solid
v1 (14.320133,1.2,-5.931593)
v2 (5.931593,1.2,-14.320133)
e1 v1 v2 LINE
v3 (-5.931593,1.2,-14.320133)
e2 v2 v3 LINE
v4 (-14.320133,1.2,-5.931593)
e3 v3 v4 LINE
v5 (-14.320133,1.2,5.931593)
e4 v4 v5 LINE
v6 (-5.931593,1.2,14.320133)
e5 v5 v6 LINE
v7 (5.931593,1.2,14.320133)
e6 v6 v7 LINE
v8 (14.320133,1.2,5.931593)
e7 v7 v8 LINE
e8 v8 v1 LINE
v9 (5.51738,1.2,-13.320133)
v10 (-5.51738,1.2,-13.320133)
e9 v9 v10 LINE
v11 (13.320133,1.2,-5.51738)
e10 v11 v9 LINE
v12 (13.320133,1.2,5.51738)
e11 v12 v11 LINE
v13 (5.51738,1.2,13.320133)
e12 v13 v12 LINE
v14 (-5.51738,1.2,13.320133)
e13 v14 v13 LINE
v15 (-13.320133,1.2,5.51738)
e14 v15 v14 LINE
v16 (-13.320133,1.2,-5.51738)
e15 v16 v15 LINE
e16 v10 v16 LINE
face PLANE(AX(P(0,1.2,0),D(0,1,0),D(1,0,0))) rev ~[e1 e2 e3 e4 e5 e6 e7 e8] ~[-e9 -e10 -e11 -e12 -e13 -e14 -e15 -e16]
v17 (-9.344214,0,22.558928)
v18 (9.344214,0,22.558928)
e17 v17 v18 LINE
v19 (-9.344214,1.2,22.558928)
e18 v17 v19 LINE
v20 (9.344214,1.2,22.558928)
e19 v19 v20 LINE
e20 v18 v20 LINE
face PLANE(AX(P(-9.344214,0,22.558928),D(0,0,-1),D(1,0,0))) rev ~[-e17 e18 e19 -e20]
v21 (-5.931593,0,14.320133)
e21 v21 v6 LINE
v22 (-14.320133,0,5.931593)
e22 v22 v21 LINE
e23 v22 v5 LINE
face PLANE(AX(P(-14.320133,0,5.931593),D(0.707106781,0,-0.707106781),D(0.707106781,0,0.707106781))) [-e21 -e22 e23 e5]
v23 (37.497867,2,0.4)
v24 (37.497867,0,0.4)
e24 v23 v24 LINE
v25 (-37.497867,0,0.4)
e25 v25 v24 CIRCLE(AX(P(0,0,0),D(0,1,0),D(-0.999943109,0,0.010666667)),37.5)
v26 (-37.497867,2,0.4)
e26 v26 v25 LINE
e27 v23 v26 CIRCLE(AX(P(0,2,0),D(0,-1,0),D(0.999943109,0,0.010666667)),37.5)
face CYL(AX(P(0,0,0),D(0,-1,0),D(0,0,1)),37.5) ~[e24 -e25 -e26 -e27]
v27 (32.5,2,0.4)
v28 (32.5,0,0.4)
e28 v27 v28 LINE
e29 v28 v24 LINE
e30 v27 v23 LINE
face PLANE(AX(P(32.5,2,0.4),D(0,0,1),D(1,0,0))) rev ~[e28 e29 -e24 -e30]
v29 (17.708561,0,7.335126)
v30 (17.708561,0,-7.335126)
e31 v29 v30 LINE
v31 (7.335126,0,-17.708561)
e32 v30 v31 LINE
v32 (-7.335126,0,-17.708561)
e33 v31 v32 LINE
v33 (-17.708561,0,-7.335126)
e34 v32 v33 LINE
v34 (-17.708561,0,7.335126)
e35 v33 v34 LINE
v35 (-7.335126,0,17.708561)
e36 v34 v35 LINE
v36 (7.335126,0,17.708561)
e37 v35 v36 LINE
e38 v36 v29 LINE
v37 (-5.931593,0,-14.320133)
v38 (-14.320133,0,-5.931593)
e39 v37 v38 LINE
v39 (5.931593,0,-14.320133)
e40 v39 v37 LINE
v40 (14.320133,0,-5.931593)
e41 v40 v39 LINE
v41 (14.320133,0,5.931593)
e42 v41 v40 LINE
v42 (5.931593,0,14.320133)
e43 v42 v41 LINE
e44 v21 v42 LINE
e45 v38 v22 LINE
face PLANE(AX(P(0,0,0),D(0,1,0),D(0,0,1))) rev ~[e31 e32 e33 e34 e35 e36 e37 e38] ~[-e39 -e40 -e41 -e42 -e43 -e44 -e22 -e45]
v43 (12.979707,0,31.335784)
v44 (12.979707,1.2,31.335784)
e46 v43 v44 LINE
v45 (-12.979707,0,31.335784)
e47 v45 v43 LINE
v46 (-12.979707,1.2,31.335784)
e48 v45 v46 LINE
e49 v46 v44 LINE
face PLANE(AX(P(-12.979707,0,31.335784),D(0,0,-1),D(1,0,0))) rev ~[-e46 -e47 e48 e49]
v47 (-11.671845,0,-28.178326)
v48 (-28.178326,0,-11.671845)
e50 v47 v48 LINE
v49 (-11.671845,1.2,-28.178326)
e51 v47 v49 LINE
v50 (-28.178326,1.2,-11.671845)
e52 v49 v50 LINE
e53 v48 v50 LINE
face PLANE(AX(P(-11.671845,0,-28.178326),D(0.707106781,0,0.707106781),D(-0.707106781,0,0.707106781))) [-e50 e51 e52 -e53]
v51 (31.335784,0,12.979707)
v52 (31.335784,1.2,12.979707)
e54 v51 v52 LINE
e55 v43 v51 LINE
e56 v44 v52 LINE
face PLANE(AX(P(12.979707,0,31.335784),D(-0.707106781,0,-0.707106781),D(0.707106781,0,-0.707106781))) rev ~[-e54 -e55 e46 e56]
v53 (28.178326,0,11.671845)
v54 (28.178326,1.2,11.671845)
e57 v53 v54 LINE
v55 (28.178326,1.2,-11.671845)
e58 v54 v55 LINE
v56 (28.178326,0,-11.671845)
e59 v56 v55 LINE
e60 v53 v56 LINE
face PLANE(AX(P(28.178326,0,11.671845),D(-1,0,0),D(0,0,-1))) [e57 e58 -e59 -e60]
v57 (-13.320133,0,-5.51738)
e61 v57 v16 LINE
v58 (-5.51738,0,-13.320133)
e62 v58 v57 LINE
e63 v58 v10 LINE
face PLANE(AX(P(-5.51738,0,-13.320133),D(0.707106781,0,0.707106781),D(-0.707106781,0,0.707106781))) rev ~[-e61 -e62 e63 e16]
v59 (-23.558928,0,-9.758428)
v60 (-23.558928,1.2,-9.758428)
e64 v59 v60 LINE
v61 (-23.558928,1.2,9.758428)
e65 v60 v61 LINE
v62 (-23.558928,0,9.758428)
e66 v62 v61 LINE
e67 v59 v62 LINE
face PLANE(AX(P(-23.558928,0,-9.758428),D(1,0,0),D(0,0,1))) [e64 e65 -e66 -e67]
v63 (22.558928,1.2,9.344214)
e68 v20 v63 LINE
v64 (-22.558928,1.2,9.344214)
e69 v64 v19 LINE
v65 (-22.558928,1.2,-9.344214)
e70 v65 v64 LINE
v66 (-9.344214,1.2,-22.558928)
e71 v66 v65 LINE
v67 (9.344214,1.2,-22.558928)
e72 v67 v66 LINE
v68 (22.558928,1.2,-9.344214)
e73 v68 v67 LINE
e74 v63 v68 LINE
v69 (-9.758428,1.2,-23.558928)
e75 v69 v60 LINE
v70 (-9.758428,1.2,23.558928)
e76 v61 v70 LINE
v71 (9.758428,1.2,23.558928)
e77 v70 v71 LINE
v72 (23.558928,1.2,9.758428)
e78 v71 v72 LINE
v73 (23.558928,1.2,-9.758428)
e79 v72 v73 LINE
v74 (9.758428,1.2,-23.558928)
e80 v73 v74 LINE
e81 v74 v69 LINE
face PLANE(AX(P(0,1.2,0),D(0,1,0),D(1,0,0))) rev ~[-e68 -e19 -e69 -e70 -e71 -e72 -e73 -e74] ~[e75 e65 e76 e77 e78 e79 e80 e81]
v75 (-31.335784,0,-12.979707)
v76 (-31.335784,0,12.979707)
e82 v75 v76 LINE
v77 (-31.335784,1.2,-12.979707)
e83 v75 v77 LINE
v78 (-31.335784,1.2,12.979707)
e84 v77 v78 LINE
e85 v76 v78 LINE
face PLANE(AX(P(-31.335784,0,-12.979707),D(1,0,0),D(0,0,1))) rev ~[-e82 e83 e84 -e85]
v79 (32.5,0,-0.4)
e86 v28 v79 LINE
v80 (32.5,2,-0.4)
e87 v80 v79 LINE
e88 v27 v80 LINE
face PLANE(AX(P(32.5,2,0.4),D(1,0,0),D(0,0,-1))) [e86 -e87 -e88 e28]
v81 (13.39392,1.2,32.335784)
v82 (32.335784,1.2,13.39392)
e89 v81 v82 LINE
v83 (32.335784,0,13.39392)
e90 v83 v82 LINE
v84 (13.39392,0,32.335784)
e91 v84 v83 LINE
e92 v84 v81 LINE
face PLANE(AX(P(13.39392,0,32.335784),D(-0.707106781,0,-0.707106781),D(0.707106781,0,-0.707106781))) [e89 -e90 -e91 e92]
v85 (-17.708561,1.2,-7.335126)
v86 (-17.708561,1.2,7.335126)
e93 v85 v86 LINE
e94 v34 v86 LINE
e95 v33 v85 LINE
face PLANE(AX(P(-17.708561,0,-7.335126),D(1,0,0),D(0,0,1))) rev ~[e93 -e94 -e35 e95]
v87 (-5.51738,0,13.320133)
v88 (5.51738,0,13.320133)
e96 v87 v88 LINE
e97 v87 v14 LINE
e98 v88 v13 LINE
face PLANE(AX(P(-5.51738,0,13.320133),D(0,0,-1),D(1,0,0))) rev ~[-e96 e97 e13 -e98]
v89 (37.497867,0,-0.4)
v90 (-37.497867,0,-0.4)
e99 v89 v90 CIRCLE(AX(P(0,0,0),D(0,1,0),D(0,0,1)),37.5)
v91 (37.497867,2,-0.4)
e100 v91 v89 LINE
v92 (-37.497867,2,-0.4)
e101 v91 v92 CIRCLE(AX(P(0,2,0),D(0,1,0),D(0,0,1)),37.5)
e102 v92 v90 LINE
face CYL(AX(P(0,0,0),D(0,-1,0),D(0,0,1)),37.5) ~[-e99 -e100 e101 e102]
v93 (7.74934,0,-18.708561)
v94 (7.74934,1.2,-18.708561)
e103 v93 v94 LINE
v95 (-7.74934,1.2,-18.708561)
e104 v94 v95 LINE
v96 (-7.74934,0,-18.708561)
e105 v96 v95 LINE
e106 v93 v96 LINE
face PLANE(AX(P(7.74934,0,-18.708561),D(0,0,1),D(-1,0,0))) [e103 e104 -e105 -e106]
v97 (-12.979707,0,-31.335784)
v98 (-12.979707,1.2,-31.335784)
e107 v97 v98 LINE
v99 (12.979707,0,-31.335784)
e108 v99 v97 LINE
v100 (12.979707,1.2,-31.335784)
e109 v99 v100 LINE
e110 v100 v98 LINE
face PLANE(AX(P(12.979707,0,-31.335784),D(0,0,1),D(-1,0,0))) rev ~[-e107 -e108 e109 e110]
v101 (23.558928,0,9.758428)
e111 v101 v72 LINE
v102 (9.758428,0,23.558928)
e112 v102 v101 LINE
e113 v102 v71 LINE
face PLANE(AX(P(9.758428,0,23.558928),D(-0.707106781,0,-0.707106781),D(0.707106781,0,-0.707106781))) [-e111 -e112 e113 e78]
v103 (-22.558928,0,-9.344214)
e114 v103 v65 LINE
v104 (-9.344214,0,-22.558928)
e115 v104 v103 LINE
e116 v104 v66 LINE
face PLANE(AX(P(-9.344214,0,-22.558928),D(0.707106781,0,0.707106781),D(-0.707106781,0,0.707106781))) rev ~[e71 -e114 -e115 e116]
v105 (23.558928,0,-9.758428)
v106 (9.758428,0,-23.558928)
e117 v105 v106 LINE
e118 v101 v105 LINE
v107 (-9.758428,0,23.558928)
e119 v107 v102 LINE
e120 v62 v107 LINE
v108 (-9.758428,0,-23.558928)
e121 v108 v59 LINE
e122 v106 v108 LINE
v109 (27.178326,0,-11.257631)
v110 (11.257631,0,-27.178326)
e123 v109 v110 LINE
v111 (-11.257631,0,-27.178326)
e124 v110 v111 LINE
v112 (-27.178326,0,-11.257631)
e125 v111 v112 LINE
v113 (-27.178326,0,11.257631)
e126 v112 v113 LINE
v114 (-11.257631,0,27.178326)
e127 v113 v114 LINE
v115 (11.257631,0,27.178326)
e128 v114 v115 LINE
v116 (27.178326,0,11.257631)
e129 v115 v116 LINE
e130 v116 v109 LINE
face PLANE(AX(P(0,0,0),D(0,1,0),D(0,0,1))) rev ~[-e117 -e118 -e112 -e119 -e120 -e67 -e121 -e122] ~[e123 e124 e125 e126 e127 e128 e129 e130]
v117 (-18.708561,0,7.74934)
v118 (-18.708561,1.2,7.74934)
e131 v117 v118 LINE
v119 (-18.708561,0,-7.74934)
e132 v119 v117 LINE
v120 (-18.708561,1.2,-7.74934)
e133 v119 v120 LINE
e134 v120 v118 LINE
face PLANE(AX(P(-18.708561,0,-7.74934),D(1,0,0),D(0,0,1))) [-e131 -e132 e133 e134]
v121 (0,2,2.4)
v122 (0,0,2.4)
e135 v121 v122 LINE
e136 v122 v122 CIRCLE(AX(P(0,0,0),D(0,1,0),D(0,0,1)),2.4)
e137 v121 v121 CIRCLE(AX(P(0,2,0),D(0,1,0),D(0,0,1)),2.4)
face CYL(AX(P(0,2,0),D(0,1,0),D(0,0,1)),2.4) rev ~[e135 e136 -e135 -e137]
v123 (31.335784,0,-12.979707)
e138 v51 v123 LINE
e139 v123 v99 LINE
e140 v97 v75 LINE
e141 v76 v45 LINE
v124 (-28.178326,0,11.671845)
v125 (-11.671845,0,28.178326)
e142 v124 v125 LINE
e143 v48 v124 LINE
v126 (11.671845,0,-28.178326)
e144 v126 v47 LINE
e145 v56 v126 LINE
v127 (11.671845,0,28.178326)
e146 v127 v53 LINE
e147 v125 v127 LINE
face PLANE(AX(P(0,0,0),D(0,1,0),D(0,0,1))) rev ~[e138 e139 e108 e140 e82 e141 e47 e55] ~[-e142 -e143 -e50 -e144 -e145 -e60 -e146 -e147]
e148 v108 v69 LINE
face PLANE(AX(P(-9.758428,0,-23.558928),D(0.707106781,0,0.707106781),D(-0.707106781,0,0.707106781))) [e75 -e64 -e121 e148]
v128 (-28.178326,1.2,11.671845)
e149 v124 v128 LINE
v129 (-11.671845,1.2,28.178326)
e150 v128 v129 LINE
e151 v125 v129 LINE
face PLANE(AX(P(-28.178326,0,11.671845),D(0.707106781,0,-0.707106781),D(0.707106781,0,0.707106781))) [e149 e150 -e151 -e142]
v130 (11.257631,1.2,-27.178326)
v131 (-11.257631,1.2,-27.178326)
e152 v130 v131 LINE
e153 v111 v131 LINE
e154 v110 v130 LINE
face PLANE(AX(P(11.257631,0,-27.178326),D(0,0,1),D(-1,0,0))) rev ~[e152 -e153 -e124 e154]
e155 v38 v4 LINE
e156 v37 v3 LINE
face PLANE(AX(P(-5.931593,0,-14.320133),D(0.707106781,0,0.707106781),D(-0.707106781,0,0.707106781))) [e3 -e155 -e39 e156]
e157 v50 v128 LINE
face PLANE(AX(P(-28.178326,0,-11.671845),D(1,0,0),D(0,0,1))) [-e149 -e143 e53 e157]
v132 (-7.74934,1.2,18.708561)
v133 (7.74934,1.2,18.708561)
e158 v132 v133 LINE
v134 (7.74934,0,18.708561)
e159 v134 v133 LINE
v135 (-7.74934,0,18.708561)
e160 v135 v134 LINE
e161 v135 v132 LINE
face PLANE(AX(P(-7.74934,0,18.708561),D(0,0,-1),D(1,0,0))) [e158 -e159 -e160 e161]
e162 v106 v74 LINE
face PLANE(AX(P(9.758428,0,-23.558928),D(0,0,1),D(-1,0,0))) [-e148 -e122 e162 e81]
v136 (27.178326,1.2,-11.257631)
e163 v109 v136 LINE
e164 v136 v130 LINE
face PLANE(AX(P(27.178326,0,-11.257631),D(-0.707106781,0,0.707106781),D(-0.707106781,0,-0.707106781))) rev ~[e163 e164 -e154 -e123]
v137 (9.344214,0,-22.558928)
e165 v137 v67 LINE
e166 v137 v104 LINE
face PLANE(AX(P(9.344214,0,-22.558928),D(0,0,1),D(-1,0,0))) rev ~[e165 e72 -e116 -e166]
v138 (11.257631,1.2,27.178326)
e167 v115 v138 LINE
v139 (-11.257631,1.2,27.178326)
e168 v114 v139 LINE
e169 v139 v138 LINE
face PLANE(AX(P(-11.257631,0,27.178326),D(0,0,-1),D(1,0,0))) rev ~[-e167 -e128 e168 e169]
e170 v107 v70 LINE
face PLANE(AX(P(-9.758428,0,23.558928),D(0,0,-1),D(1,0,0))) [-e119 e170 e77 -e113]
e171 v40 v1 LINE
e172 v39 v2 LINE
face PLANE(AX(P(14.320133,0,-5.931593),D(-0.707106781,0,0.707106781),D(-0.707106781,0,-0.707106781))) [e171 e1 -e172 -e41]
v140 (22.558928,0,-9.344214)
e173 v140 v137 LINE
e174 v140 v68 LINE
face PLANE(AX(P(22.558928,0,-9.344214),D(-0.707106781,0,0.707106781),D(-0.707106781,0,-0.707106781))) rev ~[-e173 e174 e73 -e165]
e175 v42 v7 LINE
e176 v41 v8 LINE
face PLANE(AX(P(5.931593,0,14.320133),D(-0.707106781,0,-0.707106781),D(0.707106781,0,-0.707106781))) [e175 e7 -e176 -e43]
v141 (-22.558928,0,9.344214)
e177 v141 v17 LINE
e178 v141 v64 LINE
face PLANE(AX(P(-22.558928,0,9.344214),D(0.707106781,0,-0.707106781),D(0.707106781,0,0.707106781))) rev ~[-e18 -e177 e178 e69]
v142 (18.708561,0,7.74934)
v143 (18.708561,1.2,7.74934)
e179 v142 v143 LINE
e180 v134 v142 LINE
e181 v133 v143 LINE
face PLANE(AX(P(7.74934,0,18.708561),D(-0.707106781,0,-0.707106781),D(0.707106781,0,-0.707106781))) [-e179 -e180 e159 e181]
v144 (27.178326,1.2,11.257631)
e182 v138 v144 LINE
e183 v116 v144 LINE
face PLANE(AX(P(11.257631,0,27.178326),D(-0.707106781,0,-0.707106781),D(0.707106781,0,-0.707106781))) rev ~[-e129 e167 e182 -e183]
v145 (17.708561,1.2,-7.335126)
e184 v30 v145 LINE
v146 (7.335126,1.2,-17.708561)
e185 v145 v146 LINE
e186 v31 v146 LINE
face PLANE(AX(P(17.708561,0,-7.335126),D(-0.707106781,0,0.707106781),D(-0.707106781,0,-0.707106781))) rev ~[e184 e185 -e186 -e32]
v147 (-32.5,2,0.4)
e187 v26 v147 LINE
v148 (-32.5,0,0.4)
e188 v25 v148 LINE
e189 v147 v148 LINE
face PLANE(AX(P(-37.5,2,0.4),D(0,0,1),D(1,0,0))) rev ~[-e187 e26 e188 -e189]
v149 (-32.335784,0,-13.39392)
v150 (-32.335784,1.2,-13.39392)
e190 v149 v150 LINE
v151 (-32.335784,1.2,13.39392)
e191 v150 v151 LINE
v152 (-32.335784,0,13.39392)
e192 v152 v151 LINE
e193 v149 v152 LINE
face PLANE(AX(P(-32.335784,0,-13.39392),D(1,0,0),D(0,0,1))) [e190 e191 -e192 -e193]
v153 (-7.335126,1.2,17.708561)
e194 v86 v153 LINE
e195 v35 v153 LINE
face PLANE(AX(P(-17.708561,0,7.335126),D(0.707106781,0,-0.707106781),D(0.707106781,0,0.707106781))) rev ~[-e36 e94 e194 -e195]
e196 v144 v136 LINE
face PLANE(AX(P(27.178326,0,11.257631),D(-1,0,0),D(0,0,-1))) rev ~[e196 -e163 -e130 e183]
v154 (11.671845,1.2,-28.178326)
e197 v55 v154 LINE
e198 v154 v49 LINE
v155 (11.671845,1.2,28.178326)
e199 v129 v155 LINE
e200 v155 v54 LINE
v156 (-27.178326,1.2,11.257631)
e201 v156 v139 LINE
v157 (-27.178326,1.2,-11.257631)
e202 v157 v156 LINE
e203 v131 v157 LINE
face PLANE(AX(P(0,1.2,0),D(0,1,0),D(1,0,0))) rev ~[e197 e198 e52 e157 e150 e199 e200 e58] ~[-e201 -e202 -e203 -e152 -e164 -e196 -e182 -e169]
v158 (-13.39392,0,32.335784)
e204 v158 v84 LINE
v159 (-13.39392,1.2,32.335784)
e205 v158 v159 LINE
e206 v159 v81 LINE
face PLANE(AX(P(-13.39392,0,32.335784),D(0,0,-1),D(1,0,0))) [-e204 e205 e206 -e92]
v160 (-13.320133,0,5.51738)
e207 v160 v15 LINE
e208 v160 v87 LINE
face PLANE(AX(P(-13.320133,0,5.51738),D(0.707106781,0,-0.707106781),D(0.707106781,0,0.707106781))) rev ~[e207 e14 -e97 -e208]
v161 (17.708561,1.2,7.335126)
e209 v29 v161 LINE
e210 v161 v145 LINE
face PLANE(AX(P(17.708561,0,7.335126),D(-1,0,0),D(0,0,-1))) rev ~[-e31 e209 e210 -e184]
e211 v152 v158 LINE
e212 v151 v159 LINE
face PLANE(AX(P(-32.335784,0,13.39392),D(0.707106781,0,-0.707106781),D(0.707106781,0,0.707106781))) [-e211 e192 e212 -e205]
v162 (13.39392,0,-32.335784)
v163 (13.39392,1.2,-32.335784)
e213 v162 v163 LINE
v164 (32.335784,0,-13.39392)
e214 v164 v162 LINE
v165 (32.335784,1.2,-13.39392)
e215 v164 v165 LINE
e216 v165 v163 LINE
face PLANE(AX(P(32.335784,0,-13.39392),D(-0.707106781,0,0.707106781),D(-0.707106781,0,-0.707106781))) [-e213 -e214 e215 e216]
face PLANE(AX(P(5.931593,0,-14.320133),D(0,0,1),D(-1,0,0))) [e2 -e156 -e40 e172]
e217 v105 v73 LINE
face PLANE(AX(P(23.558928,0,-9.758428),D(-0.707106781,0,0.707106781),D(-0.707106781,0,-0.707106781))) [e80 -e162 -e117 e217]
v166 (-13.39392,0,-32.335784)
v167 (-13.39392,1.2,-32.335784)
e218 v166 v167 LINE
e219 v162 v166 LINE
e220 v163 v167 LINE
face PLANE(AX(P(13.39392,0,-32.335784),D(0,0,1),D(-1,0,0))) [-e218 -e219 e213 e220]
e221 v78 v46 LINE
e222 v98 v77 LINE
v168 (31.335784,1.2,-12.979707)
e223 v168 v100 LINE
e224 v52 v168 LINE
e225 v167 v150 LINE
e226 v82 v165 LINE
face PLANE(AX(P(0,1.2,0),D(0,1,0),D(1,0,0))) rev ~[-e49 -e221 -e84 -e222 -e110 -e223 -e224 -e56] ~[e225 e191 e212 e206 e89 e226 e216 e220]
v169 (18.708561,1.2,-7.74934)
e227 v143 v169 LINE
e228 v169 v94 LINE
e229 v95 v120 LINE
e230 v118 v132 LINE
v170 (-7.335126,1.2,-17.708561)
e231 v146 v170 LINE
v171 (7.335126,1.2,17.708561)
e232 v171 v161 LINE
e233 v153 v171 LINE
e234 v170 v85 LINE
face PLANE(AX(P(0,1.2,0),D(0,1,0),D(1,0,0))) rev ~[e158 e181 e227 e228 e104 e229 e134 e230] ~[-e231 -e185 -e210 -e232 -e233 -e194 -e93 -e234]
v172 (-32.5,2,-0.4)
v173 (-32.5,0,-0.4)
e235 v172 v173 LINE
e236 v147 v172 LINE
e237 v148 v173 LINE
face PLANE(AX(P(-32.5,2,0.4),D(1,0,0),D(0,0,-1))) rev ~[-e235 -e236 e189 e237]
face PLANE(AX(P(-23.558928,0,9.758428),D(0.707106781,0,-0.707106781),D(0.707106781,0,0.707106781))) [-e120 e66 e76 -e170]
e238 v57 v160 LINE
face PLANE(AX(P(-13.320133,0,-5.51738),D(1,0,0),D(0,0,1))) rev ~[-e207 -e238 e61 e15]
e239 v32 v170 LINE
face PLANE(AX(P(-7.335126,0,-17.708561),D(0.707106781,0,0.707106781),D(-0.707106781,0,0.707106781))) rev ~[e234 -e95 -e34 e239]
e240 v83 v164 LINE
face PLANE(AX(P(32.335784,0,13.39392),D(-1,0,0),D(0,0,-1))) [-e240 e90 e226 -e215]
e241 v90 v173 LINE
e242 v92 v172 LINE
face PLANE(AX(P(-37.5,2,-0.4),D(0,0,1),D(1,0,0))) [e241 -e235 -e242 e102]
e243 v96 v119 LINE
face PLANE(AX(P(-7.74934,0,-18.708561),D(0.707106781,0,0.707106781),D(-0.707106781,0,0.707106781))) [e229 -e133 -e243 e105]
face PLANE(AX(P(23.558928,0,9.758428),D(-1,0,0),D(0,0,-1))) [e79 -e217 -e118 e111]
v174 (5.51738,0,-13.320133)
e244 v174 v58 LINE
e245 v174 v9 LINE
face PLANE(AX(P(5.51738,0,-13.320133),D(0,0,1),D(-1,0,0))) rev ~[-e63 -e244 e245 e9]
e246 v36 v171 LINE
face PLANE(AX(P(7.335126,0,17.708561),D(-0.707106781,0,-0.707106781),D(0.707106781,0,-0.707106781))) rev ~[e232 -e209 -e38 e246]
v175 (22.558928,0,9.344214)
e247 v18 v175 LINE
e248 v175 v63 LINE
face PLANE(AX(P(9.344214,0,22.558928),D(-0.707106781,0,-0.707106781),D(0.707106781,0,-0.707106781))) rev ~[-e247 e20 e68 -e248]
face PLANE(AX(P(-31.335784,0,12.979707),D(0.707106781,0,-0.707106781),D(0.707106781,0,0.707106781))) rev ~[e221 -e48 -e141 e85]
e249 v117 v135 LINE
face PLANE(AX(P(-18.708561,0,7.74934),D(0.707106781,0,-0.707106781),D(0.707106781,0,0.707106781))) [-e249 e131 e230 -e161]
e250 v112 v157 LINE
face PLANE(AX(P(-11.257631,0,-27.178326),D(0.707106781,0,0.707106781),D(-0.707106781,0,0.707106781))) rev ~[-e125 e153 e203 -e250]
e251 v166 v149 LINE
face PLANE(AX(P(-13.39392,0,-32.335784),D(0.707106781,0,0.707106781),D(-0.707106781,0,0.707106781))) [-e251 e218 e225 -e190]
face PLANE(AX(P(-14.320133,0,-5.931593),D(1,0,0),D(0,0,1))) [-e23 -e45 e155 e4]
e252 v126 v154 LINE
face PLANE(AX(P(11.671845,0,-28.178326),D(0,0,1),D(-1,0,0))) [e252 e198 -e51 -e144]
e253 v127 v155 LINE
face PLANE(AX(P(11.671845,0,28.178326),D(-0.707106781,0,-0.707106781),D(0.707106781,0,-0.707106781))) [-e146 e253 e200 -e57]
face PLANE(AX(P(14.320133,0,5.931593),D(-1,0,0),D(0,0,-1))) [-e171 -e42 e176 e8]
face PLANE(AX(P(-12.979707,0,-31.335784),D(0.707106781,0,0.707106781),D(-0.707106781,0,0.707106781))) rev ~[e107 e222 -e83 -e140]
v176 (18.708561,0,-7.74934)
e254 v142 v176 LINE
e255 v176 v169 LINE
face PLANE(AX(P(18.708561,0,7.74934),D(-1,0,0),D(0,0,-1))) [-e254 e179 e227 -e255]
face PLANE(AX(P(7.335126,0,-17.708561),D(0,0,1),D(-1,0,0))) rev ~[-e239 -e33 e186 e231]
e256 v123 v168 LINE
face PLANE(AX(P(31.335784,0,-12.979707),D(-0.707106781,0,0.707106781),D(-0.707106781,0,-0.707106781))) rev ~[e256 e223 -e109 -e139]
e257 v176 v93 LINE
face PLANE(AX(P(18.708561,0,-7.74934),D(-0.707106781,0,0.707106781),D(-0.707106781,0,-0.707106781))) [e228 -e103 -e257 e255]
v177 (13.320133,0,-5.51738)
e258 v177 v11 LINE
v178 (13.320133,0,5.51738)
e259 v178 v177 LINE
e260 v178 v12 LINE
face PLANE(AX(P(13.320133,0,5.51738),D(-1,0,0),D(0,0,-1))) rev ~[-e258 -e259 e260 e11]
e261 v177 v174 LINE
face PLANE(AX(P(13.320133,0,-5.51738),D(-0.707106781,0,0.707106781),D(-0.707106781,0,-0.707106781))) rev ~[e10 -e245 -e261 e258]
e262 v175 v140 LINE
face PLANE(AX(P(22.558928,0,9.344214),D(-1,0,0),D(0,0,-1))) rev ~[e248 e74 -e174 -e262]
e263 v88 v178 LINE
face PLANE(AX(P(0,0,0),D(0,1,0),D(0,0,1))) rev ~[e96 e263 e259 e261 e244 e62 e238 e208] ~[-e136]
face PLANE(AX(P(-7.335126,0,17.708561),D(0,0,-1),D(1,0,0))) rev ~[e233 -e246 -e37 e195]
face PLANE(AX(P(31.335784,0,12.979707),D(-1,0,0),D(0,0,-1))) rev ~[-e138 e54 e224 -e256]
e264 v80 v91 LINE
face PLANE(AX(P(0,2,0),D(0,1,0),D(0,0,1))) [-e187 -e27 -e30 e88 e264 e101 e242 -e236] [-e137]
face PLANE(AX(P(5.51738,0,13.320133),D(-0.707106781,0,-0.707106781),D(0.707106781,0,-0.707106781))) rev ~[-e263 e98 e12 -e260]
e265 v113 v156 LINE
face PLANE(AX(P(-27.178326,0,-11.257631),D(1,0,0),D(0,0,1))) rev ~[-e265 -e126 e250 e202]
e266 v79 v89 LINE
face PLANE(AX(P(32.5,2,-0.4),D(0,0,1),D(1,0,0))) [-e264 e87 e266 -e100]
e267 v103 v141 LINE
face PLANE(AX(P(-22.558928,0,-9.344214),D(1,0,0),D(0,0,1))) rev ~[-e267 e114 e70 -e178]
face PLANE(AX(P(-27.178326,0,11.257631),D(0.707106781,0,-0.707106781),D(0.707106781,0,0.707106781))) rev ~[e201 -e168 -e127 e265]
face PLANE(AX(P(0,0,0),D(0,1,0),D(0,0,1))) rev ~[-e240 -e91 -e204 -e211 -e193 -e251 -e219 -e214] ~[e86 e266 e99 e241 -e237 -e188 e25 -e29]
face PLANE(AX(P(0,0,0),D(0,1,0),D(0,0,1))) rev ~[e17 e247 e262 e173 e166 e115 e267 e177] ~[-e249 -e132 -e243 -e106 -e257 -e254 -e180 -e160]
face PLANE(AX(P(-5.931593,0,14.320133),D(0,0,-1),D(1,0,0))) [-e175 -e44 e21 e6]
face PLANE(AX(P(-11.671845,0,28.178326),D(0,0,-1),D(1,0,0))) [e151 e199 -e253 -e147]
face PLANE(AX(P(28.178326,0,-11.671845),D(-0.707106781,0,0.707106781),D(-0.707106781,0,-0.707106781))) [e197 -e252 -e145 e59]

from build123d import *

# Parameters (mm, degrees)
SKETCH_3_R          = 37.5
EXTRUDE_1_DEPTH     = 2
CUT_EXTRUDE_5_DEPTH = 1.2
SKETCH_4_W          = 5
SKETCH_4_H          = 0.8
CUT_EXTRUDE_6_DEPTH = 54.070707551
SKETCH_5_R          = 2.4
CUT_EXTRUDE_7_DEPTH = 54.069200107


with BuildPart() as part:
    # 스케치3 → 보스-돌출1 (new body)
    with BuildSketch(Plane(origin=(0, 0, 0), x_dir=(1, 0, 0), z_dir=(0, 1, 0))):
        Circle(SKETCH_3_R)
    extrude(amount=EXTRUDE_1_DEPTH)

    # 스케치1 → 컷-돌출5 (cut)
    # profile 1 of 5: a face of its own
    with BuildSketch(Plane(origin=(0, 0, 0), x_dir=(1, 0, 0), z_dir=(0, 1, 0))):
        Polygon((-13.393920133, -32.335783638), (13.393920133, -32.335783638), (32.335783638, -13.393920133), (32.335783638, 13.393920133), (13.393920133, 32.335783638), (-13.393920133, 32.335783638), (-32.335783638, 13.393920133), (-32.335783638, -13.393920133), align=None)
        Polygon((31.335783638, -12.97970657), (12.97970657, -31.335783638), (-12.97970657, -31.335783638), (-31.335783638, -12.97970657), (-31.335783638, 12.97970657), (-12.97970657, 31.335783638), (12.97970657, 31.335783638), (31.335783638, 12.97970657), align=None, mode=Mode.SUBTRACT)
    # profile 2 of 5: a face of its own
    with BuildSketch(Plane(origin=(0, 0, 0), x_dir=(1, 0, 0), z_dir=(0, 1, 0))):
        Polygon((-11.671844687, -28.178325742), (11.671844687, -28.178325742), (28.178325742, -11.671844687), (28.178325742, 11.671844687), (11.671844687, 28.178325742), (-11.671844687, 28.178325742), (-28.178325742, 11.671844687), (-28.178325742, -11.671844687), align=None)
        Polygon((27.178325742, -11.257631125), (11.257631125, -27.178325742), (-11.257631125, -27.178325742), (-27.178325742, -11.257631125), (-27.178325742, 11.257631125), (-11.257631125, 27.178325742), (11.257631125, 27.178325742), (27.178325742, 11.257631125), align=None, mode=Mode.SUBTRACT)
    # profile 3 of 5: a face of its own
    with BuildSketch(Plane(origin=(0, 0, 0), x_dir=(1, 0, 0), z_dir=(0, 1, 0))):
        Polygon((-23.558928079, -9.758427525), (-9.758427525, -23.558928079), (9.758427525, -23.558928079), (23.558928079, -9.758427525), (23.558928079, 9.758427525), (9.758427525, 23.558928079), (-9.758427525, 23.558928079), (-23.558928079, 9.758427525), align=None)
        Polygon((9.344213963, -22.558928079), (-9.344213963, -22.558928079), (-22.558928079, -9.344213963), (-22.558928079, 9.344213963), (-9.344213963, 22.558928079), (9.344213963, 22.558928079), (22.558928079, 9.344213963), (22.558928079, -9.344213963), align=None, mode=Mode.SUBTRACT)
    # profile 4 of 5: a face of its own
    with BuildSketch(Plane(origin=(0, 0, 0), x_dir=(1, 0, 0), z_dir=(0, 1, 0))):
        Polygon((-7.749339505, -18.708560533), (7.749339505, -18.708560533), (18.708560533, -7.749339505), (18.708560533, 7.749339505), (7.749339505, 18.708560533), (-7.749339505, 18.708560533), (-18.708560533, 7.749339505), (-18.708560533, -7.749339505), align=None)
        Polygon((17.708560533, -7.335125943), (7.335125943, -17.708560533), (-7.335125943, -17.708560533), (-17.708560533, -7.335125943), (-17.708560533, 7.335125943), (-7.335125943, 17.708560533), (7.335125943, 17.708560533), (17.708560533, 7.335125943), align=None, mode=Mode.SUBTRACT)
    # profile 5 of 5: a face of its own
    with BuildSketch(Plane(origin=(0, 0, 0), x_dir=(1, 0, 0), z_dir=(0, 1, 0))):
        Polygon((5.931593202, 14.320132754), (-5.931593202, 14.320132754), (-14.320132754, 5.931593202), (-14.320132754, -5.931593202), (-5.931593202, -14.320132754), (5.931593202, -14.320132754), (14.320132754, -5.931593202), (14.320132754, 5.931593202), align=None)
        Polygon((-13.320132754, 5.517379639), (-5.517379639, 13.320132754), (5.517379639, 13.320132754), (13.320132754, 5.517379639), (13.320132754, -5.517379639), (5.517379639, -13.320132754), (-5.517379639, -13.320132754), (-13.320132754, -5.517379639), align=None, mode=Mode.SUBTRACT)
    extrude(amount=CUT_EXTRUDE_5_DEPTH, mode=Mode.SUBTRACT)

    # 스케치4 → 컷-돌출6 (cut, through all)
    with BuildSketch(Plane(origin=(0, 2, 0), x_dir=(1, 0, 0), z_dir=(0, 1, 0))):
        with Locations((-35, 0)):
            Rectangle(SKETCH_4_W, SKETCH_4_H)
        with Locations((35, 0)):
            Rectangle(SKETCH_4_W, SKETCH_4_H)
    extrude(amount=-CUT_EXTRUDE_6_DEPTH, mode=Mode.SUBTRACT)

    # 스케치5 → 컷-돌출7 (cut, through all)
    with BuildSketch(Plane(origin=(0, 2, 0), x_dir=(1, 0, 0), z_dir=(0, 1, 0))):
        Circle(SKETCH_5_R)
    extrude(amount=-CUT_EXTRUDE_7_DEPTH, mode=Mode.SUBTRACT)


solid = part.part
